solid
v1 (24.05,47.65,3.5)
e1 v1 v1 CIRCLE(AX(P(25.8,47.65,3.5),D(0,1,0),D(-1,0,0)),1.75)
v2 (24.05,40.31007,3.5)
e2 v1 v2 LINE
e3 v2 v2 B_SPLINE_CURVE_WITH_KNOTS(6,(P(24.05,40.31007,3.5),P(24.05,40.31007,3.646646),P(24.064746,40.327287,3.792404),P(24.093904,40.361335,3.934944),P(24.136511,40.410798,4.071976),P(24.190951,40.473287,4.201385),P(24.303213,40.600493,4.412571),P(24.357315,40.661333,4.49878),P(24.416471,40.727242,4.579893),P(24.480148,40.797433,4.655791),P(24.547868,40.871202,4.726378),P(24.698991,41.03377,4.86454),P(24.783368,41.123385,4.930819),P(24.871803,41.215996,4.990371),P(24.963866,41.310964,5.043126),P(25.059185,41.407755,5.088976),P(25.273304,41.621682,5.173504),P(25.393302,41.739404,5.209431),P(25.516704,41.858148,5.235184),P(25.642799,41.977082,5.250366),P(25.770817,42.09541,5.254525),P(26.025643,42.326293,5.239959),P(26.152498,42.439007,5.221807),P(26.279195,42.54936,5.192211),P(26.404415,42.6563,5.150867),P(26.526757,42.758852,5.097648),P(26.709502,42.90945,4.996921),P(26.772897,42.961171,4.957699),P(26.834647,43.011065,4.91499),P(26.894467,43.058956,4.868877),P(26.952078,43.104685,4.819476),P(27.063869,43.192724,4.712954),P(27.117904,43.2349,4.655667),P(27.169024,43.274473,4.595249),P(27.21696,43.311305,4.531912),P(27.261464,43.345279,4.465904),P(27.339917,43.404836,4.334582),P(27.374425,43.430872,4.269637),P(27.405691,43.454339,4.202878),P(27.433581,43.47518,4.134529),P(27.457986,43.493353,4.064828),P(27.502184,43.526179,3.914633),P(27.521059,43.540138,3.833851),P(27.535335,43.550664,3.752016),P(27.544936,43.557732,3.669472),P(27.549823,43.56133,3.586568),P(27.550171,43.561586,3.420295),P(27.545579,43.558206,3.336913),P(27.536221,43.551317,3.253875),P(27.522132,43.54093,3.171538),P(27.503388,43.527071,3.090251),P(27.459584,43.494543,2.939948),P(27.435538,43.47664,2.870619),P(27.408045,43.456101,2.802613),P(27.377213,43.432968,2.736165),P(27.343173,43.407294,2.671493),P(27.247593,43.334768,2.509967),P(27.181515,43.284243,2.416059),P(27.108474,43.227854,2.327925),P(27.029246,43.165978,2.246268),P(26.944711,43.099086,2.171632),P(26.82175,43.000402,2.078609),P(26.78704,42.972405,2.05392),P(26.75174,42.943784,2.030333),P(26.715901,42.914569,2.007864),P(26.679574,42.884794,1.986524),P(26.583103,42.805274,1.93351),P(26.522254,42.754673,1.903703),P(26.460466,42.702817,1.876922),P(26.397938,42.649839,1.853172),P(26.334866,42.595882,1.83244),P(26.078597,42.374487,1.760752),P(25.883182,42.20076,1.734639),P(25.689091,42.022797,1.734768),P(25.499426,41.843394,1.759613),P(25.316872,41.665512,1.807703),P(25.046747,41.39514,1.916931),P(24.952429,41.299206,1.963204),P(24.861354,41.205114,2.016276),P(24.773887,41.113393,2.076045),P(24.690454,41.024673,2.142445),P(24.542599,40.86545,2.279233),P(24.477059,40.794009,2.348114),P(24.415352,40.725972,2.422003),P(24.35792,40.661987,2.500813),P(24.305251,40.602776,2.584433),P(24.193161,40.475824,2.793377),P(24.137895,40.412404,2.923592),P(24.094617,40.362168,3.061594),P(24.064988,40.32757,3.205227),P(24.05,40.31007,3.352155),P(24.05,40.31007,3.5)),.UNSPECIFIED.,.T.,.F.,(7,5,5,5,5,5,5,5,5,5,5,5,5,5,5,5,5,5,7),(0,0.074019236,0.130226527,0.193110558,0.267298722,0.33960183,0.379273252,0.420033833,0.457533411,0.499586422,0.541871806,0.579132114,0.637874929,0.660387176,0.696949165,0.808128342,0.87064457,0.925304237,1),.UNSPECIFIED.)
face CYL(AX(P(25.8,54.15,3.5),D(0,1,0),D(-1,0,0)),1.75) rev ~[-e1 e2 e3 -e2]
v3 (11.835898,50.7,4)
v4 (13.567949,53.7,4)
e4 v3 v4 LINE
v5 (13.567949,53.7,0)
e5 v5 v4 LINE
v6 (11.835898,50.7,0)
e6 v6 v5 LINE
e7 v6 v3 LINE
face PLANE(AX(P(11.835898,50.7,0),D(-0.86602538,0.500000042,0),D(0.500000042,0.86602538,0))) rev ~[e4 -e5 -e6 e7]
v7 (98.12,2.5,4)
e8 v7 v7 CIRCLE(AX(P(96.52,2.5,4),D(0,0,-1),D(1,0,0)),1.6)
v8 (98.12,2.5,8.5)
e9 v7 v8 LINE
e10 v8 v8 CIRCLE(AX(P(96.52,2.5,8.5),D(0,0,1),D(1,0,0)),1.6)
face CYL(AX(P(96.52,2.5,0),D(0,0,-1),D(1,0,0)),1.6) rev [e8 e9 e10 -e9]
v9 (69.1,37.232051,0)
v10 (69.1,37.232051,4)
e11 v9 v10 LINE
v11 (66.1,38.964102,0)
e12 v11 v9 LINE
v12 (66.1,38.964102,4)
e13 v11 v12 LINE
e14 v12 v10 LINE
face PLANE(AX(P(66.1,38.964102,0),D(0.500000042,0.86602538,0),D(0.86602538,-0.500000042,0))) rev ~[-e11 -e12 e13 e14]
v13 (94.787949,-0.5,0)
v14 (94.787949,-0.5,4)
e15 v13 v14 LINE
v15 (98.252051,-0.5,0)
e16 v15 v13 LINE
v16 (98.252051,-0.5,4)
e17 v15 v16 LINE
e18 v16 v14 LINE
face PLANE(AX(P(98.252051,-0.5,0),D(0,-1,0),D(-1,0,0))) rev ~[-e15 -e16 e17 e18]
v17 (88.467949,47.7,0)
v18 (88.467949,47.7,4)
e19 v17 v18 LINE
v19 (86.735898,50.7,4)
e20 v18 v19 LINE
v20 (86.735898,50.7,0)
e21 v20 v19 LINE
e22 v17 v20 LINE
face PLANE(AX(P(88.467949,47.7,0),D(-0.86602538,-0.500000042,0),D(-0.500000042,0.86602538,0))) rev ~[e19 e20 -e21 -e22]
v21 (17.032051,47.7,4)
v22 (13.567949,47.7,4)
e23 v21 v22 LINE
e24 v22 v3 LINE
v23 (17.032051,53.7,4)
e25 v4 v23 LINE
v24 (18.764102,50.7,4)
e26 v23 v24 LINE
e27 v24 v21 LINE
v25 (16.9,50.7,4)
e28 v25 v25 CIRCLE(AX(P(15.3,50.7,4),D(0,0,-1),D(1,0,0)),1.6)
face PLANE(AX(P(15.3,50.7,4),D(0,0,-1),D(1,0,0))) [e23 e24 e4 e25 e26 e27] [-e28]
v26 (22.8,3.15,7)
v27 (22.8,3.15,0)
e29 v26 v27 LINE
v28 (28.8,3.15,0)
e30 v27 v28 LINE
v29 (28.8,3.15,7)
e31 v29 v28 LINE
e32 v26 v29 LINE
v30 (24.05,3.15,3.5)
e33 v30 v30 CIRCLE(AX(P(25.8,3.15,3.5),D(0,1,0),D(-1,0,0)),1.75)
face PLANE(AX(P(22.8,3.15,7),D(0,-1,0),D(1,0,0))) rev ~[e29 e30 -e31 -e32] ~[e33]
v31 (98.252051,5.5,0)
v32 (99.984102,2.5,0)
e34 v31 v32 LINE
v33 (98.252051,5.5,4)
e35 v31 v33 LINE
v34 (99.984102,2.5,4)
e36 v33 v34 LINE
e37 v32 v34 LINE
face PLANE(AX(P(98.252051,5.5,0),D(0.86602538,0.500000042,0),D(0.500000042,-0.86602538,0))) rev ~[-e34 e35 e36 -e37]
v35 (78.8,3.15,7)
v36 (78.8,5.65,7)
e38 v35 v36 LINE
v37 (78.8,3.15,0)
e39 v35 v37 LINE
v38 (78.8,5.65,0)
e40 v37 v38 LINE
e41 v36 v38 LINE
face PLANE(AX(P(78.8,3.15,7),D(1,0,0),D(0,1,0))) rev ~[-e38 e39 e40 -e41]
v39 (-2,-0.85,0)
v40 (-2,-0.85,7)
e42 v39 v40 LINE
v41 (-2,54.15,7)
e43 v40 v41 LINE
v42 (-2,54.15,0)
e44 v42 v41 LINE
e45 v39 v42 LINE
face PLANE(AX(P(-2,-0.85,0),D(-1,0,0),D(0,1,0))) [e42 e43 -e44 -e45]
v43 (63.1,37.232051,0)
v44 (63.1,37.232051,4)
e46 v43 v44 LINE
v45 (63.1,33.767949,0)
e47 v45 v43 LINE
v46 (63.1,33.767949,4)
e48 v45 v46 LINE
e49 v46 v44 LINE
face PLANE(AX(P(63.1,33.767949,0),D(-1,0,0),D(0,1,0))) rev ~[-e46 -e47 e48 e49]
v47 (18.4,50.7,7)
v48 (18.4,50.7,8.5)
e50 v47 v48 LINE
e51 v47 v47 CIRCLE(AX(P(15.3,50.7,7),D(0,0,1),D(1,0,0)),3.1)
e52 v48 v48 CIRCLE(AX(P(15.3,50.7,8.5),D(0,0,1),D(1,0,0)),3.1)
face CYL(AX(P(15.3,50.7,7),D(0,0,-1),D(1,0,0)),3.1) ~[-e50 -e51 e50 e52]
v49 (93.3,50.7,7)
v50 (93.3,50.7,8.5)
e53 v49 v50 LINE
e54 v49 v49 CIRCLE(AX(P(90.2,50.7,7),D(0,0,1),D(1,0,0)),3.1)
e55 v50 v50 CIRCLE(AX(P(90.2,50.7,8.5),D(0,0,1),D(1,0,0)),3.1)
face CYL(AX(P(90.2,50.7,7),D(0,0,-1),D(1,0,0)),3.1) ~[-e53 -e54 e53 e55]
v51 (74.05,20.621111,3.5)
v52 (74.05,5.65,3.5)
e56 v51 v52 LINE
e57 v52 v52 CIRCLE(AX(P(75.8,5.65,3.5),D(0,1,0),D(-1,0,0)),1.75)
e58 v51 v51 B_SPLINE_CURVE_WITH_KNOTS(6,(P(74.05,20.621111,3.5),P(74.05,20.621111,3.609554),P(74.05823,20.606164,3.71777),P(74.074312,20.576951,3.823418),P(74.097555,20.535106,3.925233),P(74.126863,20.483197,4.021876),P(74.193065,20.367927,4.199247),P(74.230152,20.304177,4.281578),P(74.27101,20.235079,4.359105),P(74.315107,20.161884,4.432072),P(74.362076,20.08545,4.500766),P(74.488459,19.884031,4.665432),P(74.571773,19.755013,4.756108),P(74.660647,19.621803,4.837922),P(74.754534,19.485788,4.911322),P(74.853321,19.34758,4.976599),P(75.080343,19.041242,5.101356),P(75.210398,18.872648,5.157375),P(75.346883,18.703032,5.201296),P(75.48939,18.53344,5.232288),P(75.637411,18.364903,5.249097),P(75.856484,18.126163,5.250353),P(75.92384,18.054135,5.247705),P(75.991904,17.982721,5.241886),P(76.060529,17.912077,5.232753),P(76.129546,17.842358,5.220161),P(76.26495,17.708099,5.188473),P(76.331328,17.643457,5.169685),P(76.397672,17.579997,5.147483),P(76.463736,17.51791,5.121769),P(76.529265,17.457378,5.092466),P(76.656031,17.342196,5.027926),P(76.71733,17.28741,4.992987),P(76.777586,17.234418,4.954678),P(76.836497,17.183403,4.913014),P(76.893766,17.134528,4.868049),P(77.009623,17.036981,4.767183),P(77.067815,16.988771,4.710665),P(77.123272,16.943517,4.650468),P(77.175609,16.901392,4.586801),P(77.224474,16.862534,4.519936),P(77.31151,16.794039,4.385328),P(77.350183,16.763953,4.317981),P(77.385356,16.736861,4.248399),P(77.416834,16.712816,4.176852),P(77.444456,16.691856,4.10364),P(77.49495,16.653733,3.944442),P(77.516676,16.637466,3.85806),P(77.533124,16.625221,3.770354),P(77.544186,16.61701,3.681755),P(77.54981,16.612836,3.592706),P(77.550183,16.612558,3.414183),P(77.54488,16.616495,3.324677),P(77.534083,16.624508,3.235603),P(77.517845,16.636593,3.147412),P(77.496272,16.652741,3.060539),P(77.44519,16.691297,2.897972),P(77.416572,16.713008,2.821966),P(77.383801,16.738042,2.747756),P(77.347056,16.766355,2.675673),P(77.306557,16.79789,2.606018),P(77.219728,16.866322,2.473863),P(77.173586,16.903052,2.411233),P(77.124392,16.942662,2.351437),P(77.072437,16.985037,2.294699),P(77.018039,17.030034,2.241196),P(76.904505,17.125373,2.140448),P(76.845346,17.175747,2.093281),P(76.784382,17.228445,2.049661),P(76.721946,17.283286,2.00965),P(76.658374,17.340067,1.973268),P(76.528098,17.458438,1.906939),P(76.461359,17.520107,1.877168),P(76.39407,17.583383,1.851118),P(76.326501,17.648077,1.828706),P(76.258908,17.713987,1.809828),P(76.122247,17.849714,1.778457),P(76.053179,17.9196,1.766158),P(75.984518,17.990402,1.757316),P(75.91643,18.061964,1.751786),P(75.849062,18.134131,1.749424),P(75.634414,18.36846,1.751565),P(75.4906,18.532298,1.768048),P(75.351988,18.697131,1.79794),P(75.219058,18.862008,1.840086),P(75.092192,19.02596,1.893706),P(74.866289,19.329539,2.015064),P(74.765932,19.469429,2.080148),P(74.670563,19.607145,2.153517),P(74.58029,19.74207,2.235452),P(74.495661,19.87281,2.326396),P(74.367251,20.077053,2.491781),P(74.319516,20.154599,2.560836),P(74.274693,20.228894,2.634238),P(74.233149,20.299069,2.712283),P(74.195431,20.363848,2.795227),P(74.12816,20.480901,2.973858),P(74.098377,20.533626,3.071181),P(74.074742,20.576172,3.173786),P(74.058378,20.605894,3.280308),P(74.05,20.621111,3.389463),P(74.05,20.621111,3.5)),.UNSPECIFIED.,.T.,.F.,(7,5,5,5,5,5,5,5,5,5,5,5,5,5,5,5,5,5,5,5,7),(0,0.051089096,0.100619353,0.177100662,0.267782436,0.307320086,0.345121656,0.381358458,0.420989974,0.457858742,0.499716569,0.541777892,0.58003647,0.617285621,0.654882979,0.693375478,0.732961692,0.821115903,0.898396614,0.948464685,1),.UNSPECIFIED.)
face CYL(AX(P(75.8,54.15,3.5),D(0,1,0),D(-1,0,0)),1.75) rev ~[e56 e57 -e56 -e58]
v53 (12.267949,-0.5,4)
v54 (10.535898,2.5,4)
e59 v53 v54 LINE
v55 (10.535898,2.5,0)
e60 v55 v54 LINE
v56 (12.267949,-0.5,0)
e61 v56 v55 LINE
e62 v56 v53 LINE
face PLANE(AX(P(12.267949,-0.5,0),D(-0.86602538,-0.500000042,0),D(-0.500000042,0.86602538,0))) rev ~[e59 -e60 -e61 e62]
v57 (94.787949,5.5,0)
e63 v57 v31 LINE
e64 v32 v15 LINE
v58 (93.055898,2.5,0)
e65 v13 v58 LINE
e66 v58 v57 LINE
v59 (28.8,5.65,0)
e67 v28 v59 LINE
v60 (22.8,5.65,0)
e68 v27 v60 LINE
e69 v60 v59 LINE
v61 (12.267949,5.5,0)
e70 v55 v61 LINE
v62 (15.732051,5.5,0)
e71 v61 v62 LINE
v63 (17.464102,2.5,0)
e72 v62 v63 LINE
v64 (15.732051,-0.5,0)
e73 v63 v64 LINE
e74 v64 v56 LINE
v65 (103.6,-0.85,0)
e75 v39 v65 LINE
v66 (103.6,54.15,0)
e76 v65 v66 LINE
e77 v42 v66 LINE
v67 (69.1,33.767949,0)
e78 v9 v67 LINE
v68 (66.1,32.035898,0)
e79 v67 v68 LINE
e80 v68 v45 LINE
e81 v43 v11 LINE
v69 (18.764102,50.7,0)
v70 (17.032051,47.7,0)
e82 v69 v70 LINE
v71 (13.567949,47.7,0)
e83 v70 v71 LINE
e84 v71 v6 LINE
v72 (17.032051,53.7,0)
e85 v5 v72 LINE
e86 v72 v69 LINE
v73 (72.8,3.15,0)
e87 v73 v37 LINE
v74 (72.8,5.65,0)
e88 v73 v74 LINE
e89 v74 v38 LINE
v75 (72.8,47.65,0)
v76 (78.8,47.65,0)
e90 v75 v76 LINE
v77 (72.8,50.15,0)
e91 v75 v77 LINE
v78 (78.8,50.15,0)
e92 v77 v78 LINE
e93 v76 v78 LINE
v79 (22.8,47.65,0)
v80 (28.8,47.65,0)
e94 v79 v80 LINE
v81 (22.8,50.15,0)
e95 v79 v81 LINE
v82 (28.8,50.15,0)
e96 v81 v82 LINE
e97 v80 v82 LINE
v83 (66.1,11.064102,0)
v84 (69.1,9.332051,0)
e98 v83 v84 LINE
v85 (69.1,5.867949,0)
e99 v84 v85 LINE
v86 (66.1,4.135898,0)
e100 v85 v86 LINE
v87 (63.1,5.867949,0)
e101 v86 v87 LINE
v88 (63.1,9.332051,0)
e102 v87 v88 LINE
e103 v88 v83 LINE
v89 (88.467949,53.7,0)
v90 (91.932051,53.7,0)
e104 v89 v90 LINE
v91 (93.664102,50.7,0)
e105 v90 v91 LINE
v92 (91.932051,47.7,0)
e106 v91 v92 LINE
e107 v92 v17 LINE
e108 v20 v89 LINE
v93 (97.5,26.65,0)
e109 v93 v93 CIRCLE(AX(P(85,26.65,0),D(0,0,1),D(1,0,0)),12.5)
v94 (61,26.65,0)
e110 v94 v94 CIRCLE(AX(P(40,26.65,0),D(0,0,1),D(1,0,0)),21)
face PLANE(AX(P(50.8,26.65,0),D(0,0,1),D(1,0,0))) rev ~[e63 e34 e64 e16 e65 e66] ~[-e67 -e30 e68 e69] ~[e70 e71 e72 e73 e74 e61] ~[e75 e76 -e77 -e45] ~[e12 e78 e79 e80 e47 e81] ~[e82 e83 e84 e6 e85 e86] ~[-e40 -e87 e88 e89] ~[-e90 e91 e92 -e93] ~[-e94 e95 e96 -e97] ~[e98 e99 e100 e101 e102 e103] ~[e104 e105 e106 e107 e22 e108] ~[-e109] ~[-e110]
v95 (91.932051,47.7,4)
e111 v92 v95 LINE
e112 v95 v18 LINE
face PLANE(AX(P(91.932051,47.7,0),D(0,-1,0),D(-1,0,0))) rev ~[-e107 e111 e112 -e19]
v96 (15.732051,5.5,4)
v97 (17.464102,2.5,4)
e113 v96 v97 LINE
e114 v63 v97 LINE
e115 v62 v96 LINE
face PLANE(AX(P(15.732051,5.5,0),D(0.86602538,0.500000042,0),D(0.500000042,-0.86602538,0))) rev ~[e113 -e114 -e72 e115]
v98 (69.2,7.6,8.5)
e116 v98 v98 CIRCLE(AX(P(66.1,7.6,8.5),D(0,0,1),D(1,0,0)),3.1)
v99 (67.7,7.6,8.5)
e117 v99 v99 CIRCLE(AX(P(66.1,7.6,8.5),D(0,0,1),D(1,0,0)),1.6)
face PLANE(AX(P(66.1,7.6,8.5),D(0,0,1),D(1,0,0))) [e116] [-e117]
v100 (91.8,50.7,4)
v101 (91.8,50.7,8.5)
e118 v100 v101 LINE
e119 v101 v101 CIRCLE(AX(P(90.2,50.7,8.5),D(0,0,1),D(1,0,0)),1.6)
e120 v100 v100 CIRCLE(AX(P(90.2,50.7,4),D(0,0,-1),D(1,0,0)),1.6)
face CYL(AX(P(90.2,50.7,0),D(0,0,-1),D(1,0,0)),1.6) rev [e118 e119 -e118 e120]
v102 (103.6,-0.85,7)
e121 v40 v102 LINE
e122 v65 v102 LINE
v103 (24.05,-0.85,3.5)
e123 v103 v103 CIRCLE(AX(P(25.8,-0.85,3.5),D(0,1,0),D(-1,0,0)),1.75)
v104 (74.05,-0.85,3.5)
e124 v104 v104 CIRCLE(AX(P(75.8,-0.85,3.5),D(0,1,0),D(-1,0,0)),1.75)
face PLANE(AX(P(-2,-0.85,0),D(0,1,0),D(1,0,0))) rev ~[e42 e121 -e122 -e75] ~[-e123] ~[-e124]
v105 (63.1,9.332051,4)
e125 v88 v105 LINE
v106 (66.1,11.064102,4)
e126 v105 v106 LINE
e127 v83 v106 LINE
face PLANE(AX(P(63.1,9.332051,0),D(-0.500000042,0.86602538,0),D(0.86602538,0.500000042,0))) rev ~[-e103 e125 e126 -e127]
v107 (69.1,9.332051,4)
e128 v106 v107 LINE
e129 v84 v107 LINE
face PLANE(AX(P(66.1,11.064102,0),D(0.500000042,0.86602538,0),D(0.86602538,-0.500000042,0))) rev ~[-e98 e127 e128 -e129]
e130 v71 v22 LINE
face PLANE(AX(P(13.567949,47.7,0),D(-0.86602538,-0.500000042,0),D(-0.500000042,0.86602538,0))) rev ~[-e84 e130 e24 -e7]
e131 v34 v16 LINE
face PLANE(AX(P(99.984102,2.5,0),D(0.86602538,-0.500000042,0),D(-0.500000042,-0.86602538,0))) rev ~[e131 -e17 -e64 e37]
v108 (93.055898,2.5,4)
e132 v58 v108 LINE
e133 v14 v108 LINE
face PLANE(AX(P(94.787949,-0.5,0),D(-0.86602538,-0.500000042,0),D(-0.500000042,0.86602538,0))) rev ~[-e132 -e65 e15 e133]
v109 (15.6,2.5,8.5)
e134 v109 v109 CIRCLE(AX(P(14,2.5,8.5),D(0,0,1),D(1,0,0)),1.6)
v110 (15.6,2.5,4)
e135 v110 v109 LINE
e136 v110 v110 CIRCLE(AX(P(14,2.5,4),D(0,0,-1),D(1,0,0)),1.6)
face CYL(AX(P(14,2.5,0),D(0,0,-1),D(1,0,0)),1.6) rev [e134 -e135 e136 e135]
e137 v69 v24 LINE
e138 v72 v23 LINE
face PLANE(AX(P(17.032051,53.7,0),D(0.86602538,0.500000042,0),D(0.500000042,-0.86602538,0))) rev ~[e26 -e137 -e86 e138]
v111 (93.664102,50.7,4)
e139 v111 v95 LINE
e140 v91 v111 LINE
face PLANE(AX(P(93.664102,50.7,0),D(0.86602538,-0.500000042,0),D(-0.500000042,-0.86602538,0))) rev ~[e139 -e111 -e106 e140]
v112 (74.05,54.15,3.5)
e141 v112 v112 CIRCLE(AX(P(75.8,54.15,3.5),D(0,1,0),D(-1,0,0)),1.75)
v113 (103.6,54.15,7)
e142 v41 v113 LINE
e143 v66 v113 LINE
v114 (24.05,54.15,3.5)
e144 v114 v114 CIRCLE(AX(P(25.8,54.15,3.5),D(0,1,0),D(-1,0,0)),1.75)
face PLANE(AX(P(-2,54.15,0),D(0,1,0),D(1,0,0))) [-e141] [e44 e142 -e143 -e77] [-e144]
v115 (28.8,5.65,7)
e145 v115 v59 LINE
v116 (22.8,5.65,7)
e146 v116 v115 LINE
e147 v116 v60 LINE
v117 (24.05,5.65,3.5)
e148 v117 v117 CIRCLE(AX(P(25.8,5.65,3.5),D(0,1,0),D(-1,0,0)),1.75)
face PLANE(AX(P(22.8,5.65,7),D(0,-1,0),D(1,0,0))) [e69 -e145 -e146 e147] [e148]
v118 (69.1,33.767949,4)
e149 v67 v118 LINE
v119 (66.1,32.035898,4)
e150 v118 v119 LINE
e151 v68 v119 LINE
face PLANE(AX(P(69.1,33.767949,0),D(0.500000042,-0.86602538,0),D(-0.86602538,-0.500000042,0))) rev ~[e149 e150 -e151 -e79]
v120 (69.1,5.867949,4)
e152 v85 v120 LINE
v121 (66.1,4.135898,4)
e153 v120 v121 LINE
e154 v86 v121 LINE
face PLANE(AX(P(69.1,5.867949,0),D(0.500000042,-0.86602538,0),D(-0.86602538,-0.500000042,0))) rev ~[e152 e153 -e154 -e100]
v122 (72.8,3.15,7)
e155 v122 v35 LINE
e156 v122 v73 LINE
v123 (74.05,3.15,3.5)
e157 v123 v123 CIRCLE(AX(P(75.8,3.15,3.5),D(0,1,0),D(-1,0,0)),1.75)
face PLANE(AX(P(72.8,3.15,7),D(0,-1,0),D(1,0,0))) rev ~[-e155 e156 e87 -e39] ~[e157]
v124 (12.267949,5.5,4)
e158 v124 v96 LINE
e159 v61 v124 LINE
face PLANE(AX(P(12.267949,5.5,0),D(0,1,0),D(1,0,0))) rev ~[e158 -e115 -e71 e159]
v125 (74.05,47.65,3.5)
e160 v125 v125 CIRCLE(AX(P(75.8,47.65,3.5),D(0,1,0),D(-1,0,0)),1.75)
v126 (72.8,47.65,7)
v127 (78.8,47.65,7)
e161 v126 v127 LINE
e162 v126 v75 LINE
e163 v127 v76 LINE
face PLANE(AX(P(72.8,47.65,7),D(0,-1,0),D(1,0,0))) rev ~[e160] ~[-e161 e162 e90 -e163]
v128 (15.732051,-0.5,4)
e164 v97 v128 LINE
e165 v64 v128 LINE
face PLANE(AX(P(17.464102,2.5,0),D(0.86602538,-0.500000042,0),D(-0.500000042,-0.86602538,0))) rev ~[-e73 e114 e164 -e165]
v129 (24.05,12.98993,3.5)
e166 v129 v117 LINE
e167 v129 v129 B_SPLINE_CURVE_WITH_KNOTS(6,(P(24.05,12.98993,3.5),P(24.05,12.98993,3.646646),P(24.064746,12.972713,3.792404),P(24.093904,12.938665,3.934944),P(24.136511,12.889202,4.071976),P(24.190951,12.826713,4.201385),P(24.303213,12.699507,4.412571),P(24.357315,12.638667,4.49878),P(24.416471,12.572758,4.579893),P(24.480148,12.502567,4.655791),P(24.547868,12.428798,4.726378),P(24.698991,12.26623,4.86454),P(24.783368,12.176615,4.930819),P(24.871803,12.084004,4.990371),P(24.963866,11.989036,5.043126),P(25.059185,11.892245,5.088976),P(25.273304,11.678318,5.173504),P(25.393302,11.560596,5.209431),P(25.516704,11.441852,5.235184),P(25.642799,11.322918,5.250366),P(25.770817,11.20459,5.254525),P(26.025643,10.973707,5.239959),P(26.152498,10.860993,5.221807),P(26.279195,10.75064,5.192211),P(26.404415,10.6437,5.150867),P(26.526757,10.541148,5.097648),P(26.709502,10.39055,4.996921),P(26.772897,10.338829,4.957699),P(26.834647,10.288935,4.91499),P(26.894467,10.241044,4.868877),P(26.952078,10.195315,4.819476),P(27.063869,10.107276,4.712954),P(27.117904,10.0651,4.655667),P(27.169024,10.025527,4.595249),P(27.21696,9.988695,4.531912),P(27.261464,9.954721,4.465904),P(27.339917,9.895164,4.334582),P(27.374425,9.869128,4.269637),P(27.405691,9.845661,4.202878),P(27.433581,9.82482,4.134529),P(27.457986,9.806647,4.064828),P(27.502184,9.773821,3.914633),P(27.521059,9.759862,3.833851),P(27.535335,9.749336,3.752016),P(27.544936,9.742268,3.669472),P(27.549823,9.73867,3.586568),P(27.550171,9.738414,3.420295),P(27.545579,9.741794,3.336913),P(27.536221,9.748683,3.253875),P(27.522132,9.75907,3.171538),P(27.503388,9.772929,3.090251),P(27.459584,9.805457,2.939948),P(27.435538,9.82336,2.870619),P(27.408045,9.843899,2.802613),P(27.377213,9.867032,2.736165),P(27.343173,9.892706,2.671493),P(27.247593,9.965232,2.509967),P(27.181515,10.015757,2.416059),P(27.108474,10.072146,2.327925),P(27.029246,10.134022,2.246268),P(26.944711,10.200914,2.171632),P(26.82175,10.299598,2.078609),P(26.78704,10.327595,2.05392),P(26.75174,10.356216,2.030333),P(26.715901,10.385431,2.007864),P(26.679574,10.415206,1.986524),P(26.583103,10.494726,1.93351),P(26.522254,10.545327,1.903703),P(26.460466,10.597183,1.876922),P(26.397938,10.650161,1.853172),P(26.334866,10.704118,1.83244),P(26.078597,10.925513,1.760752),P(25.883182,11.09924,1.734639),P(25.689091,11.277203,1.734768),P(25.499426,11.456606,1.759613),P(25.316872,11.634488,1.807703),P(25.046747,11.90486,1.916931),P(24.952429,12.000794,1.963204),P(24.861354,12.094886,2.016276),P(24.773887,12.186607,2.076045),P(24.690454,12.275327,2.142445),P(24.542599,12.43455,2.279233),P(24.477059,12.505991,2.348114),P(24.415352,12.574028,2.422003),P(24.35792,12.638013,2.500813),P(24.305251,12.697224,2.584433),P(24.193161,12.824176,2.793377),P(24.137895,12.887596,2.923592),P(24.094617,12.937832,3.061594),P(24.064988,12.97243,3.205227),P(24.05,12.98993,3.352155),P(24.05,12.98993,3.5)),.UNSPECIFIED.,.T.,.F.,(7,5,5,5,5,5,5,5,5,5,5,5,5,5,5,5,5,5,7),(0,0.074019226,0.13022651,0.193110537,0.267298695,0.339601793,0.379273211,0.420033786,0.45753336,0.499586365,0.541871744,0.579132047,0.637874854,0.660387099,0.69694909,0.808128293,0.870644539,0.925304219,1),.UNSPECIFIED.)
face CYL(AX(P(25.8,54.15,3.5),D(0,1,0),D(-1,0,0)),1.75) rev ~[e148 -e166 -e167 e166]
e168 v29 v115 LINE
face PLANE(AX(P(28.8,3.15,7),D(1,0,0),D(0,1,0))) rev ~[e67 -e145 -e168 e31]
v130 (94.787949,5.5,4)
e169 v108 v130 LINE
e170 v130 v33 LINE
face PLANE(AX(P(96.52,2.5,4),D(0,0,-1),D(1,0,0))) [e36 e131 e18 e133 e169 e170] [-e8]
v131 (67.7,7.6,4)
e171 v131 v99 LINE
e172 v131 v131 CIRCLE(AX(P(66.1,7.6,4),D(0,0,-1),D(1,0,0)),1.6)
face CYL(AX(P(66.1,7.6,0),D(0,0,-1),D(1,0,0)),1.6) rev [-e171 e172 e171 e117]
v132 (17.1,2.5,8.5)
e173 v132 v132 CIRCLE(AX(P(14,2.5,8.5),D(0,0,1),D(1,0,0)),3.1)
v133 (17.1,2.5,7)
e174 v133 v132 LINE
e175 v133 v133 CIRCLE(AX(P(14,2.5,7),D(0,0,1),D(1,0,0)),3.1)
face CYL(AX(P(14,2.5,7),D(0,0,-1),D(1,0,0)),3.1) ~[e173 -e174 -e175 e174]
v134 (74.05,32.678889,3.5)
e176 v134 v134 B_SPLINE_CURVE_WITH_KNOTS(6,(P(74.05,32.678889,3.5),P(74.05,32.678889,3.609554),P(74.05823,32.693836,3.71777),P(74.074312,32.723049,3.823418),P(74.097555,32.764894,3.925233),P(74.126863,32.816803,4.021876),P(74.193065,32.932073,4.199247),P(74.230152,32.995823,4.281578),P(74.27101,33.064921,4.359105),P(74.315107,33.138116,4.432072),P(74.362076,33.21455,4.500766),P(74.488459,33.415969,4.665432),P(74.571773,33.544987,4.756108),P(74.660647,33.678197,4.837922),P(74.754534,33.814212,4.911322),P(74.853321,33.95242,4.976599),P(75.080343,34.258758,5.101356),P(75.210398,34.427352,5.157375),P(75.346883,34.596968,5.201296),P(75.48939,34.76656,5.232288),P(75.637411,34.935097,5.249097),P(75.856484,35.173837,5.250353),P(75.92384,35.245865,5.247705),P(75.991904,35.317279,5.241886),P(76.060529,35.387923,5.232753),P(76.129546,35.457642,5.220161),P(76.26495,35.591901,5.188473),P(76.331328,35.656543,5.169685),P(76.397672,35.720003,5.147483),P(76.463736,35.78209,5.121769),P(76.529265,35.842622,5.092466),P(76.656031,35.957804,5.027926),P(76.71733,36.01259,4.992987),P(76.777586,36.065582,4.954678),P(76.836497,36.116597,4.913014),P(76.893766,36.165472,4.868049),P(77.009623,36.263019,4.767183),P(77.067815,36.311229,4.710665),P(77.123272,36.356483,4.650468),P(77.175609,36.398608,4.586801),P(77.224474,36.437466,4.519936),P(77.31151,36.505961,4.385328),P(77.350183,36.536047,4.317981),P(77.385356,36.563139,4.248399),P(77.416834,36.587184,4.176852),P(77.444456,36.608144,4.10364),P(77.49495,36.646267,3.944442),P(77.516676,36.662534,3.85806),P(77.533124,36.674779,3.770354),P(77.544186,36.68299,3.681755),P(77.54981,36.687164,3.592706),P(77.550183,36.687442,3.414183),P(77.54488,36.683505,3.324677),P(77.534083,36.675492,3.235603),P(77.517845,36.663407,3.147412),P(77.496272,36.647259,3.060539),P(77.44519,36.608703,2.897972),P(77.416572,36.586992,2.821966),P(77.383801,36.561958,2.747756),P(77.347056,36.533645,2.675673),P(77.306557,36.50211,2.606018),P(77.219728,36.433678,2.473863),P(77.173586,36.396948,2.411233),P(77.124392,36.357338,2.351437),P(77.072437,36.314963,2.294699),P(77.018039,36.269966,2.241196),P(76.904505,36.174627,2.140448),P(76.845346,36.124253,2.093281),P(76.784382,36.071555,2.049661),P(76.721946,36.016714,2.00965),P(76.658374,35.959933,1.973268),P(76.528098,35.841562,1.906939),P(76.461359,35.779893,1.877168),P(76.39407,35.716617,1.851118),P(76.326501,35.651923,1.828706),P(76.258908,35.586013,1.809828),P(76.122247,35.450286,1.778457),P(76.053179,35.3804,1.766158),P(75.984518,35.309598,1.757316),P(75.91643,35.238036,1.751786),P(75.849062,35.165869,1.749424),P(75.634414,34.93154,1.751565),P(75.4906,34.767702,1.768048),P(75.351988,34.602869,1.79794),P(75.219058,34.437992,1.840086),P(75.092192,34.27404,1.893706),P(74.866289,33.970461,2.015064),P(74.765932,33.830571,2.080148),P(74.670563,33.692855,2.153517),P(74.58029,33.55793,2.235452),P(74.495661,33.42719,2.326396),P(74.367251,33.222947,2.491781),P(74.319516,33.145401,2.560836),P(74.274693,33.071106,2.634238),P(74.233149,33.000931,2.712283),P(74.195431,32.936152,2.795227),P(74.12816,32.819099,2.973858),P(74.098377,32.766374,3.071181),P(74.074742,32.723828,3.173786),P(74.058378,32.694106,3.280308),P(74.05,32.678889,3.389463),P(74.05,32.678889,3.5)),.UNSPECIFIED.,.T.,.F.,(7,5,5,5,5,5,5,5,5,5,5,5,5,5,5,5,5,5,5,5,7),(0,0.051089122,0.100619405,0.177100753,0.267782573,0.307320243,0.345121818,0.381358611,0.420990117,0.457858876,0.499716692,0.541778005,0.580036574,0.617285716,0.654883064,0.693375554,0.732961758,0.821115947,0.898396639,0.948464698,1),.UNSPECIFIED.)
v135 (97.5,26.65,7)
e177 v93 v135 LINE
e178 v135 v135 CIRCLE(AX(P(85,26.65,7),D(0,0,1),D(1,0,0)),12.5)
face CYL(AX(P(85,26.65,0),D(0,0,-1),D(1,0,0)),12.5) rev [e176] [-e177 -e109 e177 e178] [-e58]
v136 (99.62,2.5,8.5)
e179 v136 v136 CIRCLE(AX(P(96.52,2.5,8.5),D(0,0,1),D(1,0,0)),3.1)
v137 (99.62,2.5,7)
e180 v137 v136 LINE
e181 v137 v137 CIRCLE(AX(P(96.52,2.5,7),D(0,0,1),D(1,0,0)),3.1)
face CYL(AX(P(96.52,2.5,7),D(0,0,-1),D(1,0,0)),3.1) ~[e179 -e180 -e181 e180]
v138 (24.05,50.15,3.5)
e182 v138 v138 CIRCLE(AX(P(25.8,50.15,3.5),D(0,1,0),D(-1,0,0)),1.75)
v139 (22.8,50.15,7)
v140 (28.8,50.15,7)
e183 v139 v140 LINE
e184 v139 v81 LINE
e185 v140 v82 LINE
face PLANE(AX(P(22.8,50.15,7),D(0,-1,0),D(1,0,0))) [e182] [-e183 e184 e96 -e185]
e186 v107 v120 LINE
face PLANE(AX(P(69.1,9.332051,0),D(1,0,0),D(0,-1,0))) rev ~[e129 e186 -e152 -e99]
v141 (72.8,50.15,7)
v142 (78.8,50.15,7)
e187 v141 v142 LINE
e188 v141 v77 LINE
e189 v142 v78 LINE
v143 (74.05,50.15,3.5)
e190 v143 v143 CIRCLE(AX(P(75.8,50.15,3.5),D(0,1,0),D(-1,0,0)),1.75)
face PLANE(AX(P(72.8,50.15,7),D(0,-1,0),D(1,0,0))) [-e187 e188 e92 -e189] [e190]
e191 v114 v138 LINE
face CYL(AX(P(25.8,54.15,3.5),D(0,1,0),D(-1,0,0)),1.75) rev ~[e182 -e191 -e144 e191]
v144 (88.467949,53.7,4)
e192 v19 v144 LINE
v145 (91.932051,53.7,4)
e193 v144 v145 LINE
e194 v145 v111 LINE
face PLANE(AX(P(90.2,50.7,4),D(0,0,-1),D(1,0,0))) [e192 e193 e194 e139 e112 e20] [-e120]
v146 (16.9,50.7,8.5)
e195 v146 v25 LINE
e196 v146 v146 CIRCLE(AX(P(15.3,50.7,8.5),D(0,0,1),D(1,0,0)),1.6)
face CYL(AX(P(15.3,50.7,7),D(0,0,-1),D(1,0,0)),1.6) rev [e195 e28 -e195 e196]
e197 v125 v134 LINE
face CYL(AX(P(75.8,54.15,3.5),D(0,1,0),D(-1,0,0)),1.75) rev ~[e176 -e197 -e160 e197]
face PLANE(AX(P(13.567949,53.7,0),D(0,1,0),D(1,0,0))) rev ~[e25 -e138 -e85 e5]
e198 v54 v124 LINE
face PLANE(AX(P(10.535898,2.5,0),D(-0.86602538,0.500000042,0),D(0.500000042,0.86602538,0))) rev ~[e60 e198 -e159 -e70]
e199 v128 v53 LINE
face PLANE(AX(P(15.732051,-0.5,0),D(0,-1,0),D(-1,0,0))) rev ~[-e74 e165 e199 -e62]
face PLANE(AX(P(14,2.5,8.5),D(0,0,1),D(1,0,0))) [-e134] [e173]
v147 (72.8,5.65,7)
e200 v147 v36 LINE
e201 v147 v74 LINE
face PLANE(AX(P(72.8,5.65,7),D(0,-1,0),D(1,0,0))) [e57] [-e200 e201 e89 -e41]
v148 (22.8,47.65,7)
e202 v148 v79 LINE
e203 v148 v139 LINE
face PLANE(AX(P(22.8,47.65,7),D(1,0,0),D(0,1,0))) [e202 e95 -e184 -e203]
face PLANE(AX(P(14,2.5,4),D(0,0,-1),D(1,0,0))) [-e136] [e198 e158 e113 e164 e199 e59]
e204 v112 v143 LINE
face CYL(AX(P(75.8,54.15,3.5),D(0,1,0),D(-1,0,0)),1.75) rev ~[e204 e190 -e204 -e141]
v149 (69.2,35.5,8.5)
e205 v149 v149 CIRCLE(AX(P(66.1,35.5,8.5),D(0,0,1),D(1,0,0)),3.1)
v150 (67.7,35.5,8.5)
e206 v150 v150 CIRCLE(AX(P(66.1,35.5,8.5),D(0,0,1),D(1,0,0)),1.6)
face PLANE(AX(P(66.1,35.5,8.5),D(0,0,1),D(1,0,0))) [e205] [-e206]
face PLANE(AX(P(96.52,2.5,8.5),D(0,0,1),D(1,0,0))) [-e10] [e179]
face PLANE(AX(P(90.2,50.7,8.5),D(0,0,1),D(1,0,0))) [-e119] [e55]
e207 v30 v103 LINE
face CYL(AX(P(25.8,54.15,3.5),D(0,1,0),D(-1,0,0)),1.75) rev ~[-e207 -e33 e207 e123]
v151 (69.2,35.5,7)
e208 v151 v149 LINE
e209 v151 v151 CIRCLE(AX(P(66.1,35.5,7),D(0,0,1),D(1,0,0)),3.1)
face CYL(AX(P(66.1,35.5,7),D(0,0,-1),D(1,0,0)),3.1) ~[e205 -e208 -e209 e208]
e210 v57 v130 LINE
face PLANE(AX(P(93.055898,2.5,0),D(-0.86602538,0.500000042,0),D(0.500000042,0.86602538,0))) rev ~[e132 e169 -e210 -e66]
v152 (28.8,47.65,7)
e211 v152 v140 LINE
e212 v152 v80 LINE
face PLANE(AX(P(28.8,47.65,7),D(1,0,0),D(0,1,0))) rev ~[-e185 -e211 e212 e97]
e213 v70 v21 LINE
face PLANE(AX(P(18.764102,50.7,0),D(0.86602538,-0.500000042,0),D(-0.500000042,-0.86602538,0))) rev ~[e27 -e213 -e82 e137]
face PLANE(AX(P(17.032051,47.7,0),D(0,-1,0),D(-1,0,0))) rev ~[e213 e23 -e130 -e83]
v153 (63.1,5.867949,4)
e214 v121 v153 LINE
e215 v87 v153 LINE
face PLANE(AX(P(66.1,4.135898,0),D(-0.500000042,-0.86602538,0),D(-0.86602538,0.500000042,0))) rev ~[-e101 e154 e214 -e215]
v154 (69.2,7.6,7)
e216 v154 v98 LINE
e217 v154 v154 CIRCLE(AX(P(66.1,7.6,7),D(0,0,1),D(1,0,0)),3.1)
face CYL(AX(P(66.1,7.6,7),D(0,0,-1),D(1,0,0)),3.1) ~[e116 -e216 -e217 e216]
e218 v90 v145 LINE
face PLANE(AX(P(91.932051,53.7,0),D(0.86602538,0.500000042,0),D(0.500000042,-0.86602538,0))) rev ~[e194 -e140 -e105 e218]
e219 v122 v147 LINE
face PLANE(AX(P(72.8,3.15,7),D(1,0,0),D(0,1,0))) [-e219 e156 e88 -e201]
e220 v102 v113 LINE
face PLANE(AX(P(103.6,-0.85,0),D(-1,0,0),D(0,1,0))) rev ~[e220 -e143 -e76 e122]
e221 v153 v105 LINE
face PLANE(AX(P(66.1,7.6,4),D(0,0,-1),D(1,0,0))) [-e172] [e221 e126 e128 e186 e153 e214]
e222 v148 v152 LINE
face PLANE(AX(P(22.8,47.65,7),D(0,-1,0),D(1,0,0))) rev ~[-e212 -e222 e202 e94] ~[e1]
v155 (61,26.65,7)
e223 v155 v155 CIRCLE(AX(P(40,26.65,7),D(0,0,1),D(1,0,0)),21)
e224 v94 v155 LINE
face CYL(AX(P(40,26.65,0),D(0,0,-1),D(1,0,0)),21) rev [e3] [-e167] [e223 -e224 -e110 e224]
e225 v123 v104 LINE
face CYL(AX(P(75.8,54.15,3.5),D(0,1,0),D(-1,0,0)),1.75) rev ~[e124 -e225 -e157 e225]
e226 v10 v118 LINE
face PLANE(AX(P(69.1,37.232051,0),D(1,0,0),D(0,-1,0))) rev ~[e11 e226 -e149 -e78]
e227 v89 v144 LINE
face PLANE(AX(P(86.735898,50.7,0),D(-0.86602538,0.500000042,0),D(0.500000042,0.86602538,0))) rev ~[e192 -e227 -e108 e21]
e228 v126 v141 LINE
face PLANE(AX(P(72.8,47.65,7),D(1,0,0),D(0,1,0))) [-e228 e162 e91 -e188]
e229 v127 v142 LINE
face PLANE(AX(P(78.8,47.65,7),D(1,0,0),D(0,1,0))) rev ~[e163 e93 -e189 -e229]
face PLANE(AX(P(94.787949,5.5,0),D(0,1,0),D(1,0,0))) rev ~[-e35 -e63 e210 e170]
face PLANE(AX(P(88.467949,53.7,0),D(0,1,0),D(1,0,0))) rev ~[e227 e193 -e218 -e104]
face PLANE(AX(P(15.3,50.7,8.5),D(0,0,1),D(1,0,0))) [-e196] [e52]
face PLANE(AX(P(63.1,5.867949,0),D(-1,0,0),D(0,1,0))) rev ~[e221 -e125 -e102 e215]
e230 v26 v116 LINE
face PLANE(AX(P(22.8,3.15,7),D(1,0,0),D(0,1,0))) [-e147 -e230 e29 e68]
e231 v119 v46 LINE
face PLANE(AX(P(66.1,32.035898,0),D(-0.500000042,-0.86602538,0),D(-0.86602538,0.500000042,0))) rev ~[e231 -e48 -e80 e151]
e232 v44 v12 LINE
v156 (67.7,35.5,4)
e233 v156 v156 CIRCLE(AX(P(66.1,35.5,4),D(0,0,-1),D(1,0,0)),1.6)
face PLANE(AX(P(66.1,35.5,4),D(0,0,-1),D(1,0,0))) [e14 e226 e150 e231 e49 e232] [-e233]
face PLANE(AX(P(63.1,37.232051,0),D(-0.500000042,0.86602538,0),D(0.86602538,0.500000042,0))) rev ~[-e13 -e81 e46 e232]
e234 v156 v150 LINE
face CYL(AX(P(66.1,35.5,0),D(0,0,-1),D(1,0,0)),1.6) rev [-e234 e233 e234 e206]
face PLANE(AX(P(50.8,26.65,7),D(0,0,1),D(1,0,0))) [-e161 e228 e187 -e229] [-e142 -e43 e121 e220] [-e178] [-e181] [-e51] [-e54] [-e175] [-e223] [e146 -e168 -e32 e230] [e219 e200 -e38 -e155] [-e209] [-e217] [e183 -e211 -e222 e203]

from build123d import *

# Parameters (mm, degrees)
F0_W     = 105.6
F0_H     = 55
F0_R     = 1.6
F0_R_2   = 21
F0_R_3   = 12.5
F1_DEPTH = 7
F2_R     = 3.1
F2_R_2   = 1.6
F3_DEPTH = 1.5
F4_W     = 6
F4_H     = 2.5
F5_DEPTH = 7.001
F7_DEPTH = 4
F8_R     = 1.75
F9_DEPTH = 55.001


with BuildPart() as f1:
    # F0 (on Top) → F1 (new body)
    with BuildSketch(Plane.XY):
        with Locations((50.8, 26.65)):
            Rectangle(F0_W, F0_H)
        with Locations((14, 2.5)):
            Circle(F0_R, mode=Mode.SUBTRACT)
        with Locations((66.1, 7.6)):
            Circle(F0_R, mode=Mode.SUBTRACT)
        with Locations((96.52, 2.5)):
            Circle(F0_R, mode=Mode.SUBTRACT)
        with Locations((40, 26.65)):
            Circle(F0_R_2, mode=Mode.SUBTRACT)
        with Locations((15.3, 50.7)):
            Circle(F0_R, mode=Mode.SUBTRACT)
        with Locations((66.1, 35.5)):
            Circle(F0_R, mode=Mode.SUBTRACT)
        with Locations((85, 26.65)):
            Circle(F0_R_3, mode=Mode.SUBTRACT)
        with Locations((90.2, 50.7)):
            Circle(F0_R, mode=Mode.SUBTRACT)
    extrude(amount=F1_DEPTH)

    # F2 (on face) → F3 (join)
    with BuildSketch(Plane.XY.offset(7)):
        with Locations((15.3, 50.7)):
            Circle(F2_R)
        with Locations((15.3, 50.7)):
            Circle(F2_R_2, mode=Mode.SUBTRACT)
        with Locations((90.2, 50.7)):
            Circle(F2_R)
        with Locations((90.2, 50.7)):
            Circle(F2_R_2, mode=Mode.SUBTRACT)
        with Locations((66.1, 35.5)):
            Circle(F2_R)
        with Locations((66.1, 35.5)):
            Circle(F2_R_2, mode=Mode.SUBTRACT)
        with Locations((66.1, 7.6)):
            Circle(F2_R)
        with Locations((66.1, 7.6)):
            Circle(F2_R_2, mode=Mode.SUBTRACT)
        with Locations((96.52, 2.5)):
            Circle(F2_R)
        with Locations((96.52, 2.5)):
            Circle(F2_R_2, mode=Mode.SUBTRACT)
        with Locations((14, 2.5)):
            Circle(F2_R)
        with Locations((14, 2.5)):
            Circle(F2_R_2, mode=Mode.SUBTRACT)
    extrude(amount=F3_DEPTH)

    # F4 (on face) → F5 (cut, through all)
    with BuildSketch(Plane.XY.offset(7)):
        with Locations((75.8, 48.9)):
            Rectangle(F4_W, F4_H)
        with Locations((75.8, 4.4)):
            Rectangle(F4_W, F4_H)
        with Locations((25.8, 48.9)):
            Rectangle(F4_W, F4_H)
        with Locations((25.8, 4.4)):
            Rectangle(F4_W, F4_H)
    extrude(amount=-F5_DEPTH, mode=Mode.SUBTRACT)

    # F6 (on face) → F7 (cut)
    with BuildSketch(Plane(origin=(0, 0, 0), x_dir=(1, 0, 0), z_dir=(0, 0, -1))):
        Polygon((12.267949, -5.5), (15.732051, -5.5), (17.464102, -2.5), (15.732051, 0.5), (12.267949, 0.5), (10.535898, -2.5), align=None)
        Polygon((98.252051, 0.5), (94.787949, 0.5), (93.055898, -2.5), (94.787949, -5.5), (98.252051, -5.5), (99.984102, -2.5), align=None)
        Polygon((63.1, -5.867949), (63.1, -9.332051), (66.1, -11.064102), (69.1, -9.332051), (69.1, -5.867949), (66.1, -4.135898), align=None)
        Polygon((63.1, -33.767949), (63.1, -37.232051), (66.1, -38.964102), (69.1, -37.232051), (69.1, -33.767949), (66.1, -32.035898), align=None)
        Polygon((91.932051, -47.7), (88.467949, -47.7), (86.735898, -50.7), (88.467949, -53.7), (91.932051, -53.7), (93.664102, -50.7), align=None)
        Polygon((13.567949, -47.7), (11.835898, -50.7), (13.567949, -53.7), (17.032051, -53.7), (18.764102, -50.7), (17.032051, -47.7), align=None)
    extrude(amount=-F7_DEPTH, mode=Mode.SUBTRACT)

    # F8 (on face) → F9 (cut, through all)
    with BuildSketch(Plane(origin=(0, 54.15, 0), x_dir=(-1, 0, 0), z_dir=(0, 1, 0))):
        with Locations((-75.8, 3.5)):
            Circle(F8_R)
        with Locations((-25.8, 3.5)):
            Circle(F8_R)
    extrude(amount=-F9_DEPTH, mode=Mode.SUBTRACT)


solid = f1.part
